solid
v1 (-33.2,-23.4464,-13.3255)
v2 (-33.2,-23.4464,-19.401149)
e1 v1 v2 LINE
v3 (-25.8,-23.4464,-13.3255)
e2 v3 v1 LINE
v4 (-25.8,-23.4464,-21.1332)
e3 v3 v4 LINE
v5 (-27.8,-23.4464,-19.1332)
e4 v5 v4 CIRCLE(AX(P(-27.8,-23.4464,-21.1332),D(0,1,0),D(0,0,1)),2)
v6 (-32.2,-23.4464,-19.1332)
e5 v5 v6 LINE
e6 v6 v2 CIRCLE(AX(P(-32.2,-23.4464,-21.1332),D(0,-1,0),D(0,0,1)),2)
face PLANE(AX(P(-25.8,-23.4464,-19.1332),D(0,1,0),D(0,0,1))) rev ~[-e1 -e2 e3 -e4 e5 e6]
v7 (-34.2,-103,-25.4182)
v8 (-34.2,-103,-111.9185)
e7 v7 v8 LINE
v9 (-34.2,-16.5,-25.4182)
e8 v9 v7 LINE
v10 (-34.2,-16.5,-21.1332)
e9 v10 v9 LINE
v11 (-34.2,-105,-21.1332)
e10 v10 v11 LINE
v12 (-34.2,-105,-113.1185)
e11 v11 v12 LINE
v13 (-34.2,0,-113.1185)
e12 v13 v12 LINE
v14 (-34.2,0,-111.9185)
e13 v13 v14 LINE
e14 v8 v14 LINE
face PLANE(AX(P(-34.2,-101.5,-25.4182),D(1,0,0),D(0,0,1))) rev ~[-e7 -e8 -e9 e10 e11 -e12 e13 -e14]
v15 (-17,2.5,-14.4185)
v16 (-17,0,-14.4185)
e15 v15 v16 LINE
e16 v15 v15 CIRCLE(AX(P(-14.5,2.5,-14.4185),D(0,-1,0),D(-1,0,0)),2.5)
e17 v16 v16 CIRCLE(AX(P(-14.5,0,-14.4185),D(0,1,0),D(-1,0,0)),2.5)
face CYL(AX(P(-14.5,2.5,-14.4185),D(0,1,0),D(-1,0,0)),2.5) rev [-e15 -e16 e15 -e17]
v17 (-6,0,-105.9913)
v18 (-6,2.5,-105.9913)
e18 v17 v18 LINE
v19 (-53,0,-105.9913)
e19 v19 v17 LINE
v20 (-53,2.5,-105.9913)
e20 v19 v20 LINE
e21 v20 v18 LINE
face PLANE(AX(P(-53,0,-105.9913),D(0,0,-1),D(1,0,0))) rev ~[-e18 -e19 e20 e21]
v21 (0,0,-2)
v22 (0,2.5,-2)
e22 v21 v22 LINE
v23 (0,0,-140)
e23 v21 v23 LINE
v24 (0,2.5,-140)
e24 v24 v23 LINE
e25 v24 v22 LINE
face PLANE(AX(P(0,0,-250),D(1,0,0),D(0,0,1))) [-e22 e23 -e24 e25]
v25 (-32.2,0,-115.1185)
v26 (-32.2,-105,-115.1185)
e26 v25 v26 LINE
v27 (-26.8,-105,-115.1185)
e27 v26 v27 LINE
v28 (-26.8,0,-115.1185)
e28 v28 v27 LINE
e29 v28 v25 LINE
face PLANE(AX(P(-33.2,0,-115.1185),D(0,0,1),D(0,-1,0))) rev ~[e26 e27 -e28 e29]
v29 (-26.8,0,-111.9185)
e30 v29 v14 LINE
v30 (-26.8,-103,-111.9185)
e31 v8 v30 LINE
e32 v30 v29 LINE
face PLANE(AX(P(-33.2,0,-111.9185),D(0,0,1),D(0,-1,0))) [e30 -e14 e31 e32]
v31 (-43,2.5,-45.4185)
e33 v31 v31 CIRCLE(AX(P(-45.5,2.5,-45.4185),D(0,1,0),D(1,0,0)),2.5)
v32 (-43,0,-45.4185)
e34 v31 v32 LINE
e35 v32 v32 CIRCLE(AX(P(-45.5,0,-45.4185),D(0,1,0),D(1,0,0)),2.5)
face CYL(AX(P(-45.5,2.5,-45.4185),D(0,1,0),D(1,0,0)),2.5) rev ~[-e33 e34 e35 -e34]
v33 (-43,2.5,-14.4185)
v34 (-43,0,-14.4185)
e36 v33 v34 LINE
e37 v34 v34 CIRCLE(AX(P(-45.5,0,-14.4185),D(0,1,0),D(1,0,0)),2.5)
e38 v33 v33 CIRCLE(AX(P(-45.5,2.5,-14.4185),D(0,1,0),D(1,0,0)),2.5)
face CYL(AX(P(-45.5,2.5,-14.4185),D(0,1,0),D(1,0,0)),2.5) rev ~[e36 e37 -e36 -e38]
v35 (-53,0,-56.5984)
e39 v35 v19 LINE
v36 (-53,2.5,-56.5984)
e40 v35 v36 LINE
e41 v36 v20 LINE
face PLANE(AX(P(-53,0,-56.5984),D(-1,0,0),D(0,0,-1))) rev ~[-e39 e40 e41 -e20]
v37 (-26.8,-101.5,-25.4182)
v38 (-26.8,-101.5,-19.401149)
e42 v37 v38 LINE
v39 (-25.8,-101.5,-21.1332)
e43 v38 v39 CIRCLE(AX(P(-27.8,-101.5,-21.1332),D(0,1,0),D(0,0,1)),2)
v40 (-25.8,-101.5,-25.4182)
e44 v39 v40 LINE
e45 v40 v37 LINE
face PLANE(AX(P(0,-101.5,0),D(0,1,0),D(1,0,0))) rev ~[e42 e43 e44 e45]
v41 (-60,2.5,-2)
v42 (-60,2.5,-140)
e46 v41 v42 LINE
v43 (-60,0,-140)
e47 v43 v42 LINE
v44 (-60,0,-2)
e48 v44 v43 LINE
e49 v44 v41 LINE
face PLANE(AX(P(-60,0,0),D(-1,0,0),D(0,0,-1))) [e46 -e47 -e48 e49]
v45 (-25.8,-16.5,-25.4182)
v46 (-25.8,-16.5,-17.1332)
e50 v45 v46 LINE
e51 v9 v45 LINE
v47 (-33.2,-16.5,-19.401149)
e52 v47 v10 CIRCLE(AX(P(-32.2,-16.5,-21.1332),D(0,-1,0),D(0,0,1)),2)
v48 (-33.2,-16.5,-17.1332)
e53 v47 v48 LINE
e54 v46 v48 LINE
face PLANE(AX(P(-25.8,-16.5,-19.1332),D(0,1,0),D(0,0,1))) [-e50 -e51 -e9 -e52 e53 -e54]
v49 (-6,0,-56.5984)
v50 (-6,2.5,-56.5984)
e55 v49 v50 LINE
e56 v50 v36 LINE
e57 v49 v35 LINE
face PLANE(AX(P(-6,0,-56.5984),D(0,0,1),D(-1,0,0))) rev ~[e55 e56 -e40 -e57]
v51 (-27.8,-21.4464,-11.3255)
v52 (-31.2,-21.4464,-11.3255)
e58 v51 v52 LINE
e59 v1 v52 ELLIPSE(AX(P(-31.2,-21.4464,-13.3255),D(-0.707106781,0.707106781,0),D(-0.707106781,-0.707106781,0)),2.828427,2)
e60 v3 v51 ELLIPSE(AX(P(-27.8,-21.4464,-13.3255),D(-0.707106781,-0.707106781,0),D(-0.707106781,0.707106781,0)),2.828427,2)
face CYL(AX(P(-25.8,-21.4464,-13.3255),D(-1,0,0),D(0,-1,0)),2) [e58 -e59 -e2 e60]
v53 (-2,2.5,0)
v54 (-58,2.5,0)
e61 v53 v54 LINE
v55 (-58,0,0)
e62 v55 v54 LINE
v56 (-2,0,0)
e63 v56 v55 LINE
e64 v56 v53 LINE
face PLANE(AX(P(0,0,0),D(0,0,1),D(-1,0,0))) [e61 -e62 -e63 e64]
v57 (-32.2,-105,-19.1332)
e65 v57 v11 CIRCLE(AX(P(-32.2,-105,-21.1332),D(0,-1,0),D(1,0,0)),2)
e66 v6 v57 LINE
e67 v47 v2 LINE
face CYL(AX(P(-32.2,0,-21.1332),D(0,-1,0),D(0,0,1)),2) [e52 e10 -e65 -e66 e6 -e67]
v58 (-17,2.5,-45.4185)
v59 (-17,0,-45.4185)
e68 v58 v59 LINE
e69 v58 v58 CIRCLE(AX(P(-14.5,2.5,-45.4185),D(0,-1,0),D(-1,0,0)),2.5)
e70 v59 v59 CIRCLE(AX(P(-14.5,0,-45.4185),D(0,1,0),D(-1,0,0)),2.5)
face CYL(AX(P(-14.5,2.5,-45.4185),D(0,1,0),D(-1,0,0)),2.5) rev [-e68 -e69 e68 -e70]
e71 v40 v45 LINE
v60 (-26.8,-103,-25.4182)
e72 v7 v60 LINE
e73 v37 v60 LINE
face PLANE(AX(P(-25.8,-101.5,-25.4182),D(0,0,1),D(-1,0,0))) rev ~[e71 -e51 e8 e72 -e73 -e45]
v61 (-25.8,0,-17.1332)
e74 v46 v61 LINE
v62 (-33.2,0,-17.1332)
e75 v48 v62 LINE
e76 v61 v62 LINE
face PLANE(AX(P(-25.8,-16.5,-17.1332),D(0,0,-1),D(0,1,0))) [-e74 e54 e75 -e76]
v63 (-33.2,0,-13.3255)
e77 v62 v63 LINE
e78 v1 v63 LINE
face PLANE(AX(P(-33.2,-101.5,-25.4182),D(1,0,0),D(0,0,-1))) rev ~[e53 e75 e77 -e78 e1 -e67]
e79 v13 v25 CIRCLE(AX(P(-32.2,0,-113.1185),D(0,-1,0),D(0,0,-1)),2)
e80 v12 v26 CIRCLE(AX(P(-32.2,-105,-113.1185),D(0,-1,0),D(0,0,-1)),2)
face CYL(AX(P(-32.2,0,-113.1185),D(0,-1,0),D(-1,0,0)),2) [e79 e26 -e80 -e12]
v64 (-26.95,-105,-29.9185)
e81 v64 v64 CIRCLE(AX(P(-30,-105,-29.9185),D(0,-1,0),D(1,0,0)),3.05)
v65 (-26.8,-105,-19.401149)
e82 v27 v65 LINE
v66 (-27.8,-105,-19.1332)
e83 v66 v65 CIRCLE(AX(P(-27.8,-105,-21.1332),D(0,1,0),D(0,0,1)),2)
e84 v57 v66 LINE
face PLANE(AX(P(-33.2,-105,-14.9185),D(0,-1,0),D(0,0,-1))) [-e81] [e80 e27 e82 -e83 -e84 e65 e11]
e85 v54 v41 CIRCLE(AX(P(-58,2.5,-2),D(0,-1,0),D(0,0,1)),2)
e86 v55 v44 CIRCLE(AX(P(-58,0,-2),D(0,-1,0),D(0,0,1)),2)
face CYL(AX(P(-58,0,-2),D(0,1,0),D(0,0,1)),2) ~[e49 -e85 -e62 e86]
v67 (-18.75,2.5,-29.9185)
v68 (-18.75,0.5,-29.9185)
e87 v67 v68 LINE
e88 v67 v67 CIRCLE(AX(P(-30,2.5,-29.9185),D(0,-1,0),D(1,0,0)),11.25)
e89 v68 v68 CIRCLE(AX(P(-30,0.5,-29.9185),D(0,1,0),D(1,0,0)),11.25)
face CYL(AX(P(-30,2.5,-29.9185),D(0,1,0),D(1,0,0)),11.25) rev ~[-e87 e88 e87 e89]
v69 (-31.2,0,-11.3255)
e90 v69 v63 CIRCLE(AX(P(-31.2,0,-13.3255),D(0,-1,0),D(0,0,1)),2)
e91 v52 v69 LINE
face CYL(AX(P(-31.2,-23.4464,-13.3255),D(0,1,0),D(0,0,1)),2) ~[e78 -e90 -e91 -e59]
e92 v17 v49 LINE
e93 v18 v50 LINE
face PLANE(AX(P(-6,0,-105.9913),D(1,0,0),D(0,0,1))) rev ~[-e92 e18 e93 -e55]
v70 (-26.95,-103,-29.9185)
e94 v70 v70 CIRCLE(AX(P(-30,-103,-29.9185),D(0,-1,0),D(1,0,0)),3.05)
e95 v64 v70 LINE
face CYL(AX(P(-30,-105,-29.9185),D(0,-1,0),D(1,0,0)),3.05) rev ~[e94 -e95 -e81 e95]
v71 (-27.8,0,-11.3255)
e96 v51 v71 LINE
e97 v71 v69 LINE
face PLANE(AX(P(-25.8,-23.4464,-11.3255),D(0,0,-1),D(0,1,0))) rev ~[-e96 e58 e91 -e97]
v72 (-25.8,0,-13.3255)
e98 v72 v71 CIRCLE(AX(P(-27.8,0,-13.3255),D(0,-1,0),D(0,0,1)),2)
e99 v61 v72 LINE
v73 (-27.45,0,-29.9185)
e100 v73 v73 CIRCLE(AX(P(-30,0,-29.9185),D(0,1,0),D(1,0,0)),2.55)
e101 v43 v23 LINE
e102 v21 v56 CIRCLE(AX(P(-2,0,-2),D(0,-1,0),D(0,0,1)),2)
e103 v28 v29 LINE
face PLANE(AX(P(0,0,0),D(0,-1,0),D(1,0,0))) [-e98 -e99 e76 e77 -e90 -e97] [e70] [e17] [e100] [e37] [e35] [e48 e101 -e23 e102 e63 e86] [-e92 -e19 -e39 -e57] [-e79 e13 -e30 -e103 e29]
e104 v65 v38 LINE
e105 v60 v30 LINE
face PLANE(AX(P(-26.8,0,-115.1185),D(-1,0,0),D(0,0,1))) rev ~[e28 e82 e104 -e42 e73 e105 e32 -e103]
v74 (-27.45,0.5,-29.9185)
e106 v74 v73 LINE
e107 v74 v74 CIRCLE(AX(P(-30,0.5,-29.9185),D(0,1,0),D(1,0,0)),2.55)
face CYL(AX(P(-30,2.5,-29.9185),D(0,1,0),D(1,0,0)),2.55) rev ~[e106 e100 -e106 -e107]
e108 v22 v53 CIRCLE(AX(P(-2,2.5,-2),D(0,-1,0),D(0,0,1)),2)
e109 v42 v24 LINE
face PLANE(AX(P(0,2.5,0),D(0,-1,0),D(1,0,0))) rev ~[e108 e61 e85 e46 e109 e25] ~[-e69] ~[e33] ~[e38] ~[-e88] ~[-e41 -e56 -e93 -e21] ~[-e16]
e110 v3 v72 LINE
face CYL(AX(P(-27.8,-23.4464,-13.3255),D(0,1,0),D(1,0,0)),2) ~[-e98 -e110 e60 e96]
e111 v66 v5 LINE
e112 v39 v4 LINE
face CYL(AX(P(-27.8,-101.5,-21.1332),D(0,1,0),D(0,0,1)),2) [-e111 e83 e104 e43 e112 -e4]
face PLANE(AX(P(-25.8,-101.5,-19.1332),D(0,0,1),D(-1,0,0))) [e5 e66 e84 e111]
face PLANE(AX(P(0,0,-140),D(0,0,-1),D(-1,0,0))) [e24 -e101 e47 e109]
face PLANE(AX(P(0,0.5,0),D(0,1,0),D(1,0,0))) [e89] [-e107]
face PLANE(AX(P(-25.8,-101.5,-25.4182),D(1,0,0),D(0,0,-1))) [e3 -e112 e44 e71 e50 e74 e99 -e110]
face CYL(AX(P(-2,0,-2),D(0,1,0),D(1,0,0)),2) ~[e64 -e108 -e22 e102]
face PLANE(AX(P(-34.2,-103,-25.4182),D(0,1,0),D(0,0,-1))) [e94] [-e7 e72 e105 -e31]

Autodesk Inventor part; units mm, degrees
ref_plane "YZ Plane" through (0, 0, 0) normal (1, 0, 0) x (0, 1, 0)
ref_plane "XZ Plane" through (0, 0, 0) normal (0, 1, 0) x (-1, 0, 0)
ref_plane "XY Plane" through (0, 0, 0) normal (0, 0, 1) x (1, 0, 0)
sketch "草图1" plane through (0, 0, 0) normal (0, 1, 0) x (-1, 0, 0)
  line L0 (0, 0) -> (60, 0)
  line L1 (60, 0) -> (60, -140)
  line L2 (60, -140) -> (0, -140)
  line L3 (0, -140) -> (0, 0)
  dimension "d0" = 60
  dimension "d1" = 140
extrude "拉伸1" add sketch "草图1" along normal blind 2.5
sketch "草图2" plane through (0, 2.5, 0) normal (0, 1, 0) x (1, 0, 0)
  line L0 (0, 140) -> (-60, 140) projected
  line L1 (-60, 140) -> (-60, 0) projected
  line L2 (-60, 0) -> (0, 0) projected
  line L3 (0, 0) -> (0, 140) projected
  line L4 (-60, 0) -> (0, 0) projected
  line L5 (-30, 0) -> (-30, 146.6003)
  line L6 (-30, 8.9185) -> (-51, 8.9185)
  line L7 (-51, 8.9185) -> (-51, 50.9185)
  line L8 (-51, 50.9185) -> (-30, 50.9185)
  line L9 (-30, 50.9185) -> (-30, 8.9185)
  line L10 (-30, 8.9185) -> (-9, 8.9185)
  line L11 (-9, 8.9185) -> (-9, 50.9185)
  line L12 (-9, 50.9185) -> (-30, 50.9185)
  circle A0 centre (-45.5, 14.4185) radius 2.9433
  line L13 (-51, 29.9185) -> (-35.5931, 29.9185)
  circle A1 centre (-45.5, 45.4185) radius 2.9433
  circle A2 centre (-14.5, 14.4185) radius 2.9433
  circle A3 centre (-14.5, 45.4185) radius 2.9433
  circle A4 centre (-30, 29.9185) radius 2.55
  circle A5 centre (-30, 29.9185) radius 11.25
  dimension "d4" = 21
  dimension "d5" = 42
  dimension "d6" = 31
  dimension "d7" = 31
  dimension "d12" = 5.1
  dimension "d15" = 22.5
extrude "拉伸4" cut sketch "草图2" along normal mid plane 10 contours A4 L5 | L5 A4
extrude "拉伸5" cut sketch "草图2" against normal blind 10 contours A5 L5 A4 | L5 A4 A5 | A4 L5 | L5 A4
extrude "拉伸6" cut sketch "草图2" against normal blind 10 contours A5 L5 A4 | L5 A4 A5 | A4 L5 | L5 A4
sketch "草图6" plane through (0, 0, 0) normal (0, -1, 0) x (1, 0, 0)
  line L0 (-9, -8.9185) -> (-51, -8.9185) projected
  circle A0 centre (-30, -29.9185) radius 2.55 projected
  line L1 (-30, -29.9185) -> (-26.8, -29.9185)
  line L2 (-26.8, -29.9185) -> (-26.8, -111.9185)
  line L3 (-30, -29.9185) -> (-30, -39.9264)
  line L4 (-30, -29.9185) -> (-33.2, -29.9185)
  line L5 (-33.2, -29.9185) -> (-33.2, -111.9185)
  line L6 (-26.8, -111.9185) -> (-31.6, -111.9185)
  line L7 (-31.6, -111.9185) -> (-33.2, -111.9185)
  line L8 (-26.8, -111.9185) -> (-33.2, -111.9185)
  line L9 (-33.2, -111.9185) -> (-33.2, -115.1185)
  line L10 (-33.2, -115.1185) -> (-26.8, -115.1185)
  line L11 (-26.8, -115.1185) -> (-26.8, -111.9185)
  point P0 (0, 0)
  dimension "d20" = 3.2
  dimension "d21" = 82
  dimension "d22" = 3.2
extrude "拉伸7" add sketch "草图6" along normal blind 105 contours L11 L10 L9 L7 L6
sketch "草图7" plane through (-33.2, 0, -111.9185) normal (0, 0, 1) x (1, 0, 0)
  line L0 (0, 0) -> (6.4, 0) projected
  line L1 (0, 0) -> (0, -105) projected
  line L2 (6.4, -105) -> (0, -105) projected
  line L3 (6.4, 0) -> (6.4, -105) projected
  line L4 (6.4, 0) -> (6.4, -105) projected
  line L5 (0, 0) -> (0, -105) projected
  line L6 (6.4, -105) -> (0, -105)
  line L7 (0, -105) -> (0, -101.5)
  line L8 (0, -101.5) -> (6.4, -101.5)
  line L9 (6.4, -101.5) -> (6.4, -105)
  point P0 (33.2, 0)
  dimension "d25" = 3.5
sketch "草图8" plane through (0, -105, 0) normal (0, -1, 0) x (1, 0, 0)
  line L0 (-26.8, -111.9185) -> (-26.8, -115.1185) projected
  line L1 (-26.8, -115.1185) -> (-33.2, -115.1185) projected
  line L2 (-33.2, -115.1185) -> (-33.2, -111.9185) projected
  line L3 (-33.2, -111.9185) -> (-26.8, -111.9185) projected
  circle A0 centre (-30, -29.9185) radius 11.25 projected
  line L4 (0, -140) -> (-60, -140) projected
  line L5 (0, 0) -> (0, -140) projected
  line L6 (-60, 0) -> (0, 0) projected
  line L7 (-60, -140) -> (-60, 0) projected
  line L8 (-26.8, -111.9185) -> (-26.8, -29.9185)
  line L9 (-26.8, -29.9185) -> (-33.2, -29.9185)
  line L10 (-33.2, -29.9185) -> (-33.2, -111.9185)
  line L11 (-33.2, -111.9185) -> (-26.8, -111.9185)
  line L12 (-26.8, -111.9185) -> (-26.8, -29.9185)
  circle A1 centre (-30, -29.9185) radius 3.2
  line L13 (-26.8, -29.9185) -> (-26.8, -14.9185)
  line L14 (-26.8, -14.9185) -> (-33.2, -14.9185)
  line L15 (-33.2, -14.9185) -> (-33.2, -29.9185)
  circle A2 centre (-30, -29.9185) radius 2.55 projected
  line L16 (-26.8, -14.9185) -> (-26.8, -25.4185)
  line L17 (-26.8, -25.4185) -> (-33.2, -25.4185)
  dimension "d26" = 15
  dimension "d40" = 10.5
extrude "拉伸8" add sketch "草图8" against normal blind 3.5 contours L3 L10 A0 L8 | A0 L10 A1 L8 | A1 L9 A2 | L9 A2 A1 | A1 L15 L17 L13 | L15 L14 L13 A0 | A0 L13 L17 L15
sketch "草图10" plane through (0, -105, 0) normal (0, -1, 0) x (1, 0, 0)
  line L0 (-26.8, -111.9185) -> (-26.8, -115.1185) projected
  line L1 (-26.8, -115.1185) -> (-33.2, -115.1185) projected
  line L2 (-33.2, -115.1185) -> (-33.2, -111.9185) projected
  line L3 (-33.2, -111.9185) -> (-26.8, -111.9185) projected
  circle A0 centre (-30, -29.9185) radius 11.25 projected
  line L4 (0, -140) -> (-60, -140) projected
  line L5 (0, 0) -> (0, -140) projected
  line L6 (-60, 0) -> (0, 0) projected
  line L7 (-60, -140) -> (-60, 0) projected
  circle A1 centre (-30, -29.9185) radius 2.55 projected
  line L8 (-33.2, -14.9185) -> (-33.2, -115.1185) projected
  line L9 (-33.2, -115.1185) -> (-26.8, -115.1185) projected
  line L10 (-26.8, -115.1185) -> (-26.8, -14.9185) projected
  line L11 (-26.8, -14.9185) -> (-33.2, -14.9185) projected
  circle A2 centre (-30, -29.9185) radius 3.05
  point P0 (-33.2, -19.1332)
  point P1 (-26.8, -19.1332)
  dimension "d31" = 6.1
extrude "拉伸9" add sketch "草图10" against normal up to surface (105 mm away) contours A0 L8 L11 L10
extrude "拉伸10" cut sketch "草图10" against normal up to surface (3.5 mm away) contours A2
sketch "草图11" plane through (-33.2, -105, -115.1185) normal (-1, 0, 0) x (0, 0, 1)
  line L0 (3.2, 3.5) -> (95.9853, 3.5) projected
  line L1 (3.2, 105) -> (3.2, 3.5) projected
  line L2 (0, 105) -> (3.2, 105) projected
  line L3 (0, 105) -> (0, 0) projected
  line L4 (100.2, 0) -> (0, 0) projected
  line L5 (100.2, 0) -> (100.2, 105) projected
  line L6 (95.9853, 105) -> (100.2, 105) projected
  line L7 (95.9853, 3.5) -> (95.9853, 105) projected
  point P0 (115.1185, 105)
extrude "拉伸11" add sketch "草图11" along normal blind 1
sketch "草图12" plane through (0, 0, 0) normal (0, -1, 0) x (1, 0, 0)
  point P0 (0, 0)
extrude "拉伸12" add sketch "草图2" against normal up to surface (2.5 mm away) contours A5 L5 A4 | L5 A4 A5
sketch "草图13" plane through (-30, 2.5, -29.9185) normal (0, 1, 0) x (1, 0, 0)
  point P0 (30, -29.9185)
extrude "拉伸13" cut sketch "草图2" against normal blind 2 contours A5 L5 A4 | L5 A4 A5
sketch "草图14" plane through (0, -105, 0) normal (0, -1, 0) x (1, 0, 0)
  circle A0 centre (-30, -29.9185) radius 3.05 projected
  line L0 (-26.8, -115.1185) -> (-34.2, -115.1185) projected
  line L1 (-26.8, -14.9185) -> (-34.2, -14.9185) projected
  line L2 (-34.2, -115.1185) -> (-34.2, -14.9185) projected
  line L3 (-34.2, -115.1185) -> (-34.2, -14.9185) projected
  line L4 (-34.2, -19.1332) -> (-34.2, -14.9185) projected
  line L5 (-34.2, -19.1332) -> (-34.2, -111.9185) projected
  line L6 (-34.2, -115.1185) -> (-34.2, -111.9185) projected
  line L7 (-33.2, -19.1332) -> (-34.2, -19.1332) projected
  line L8 (-34.2, -19.1332) -> (-25.8, -19.1332)
  line L9 (-25.8, -115.1185) -> (-25.8, -14.9185) projected
  line L10 (-26.8, -115.1185) -> (-26.8, -14.9185) projected
  point P0 (0, 0)
  point P1 (-26.8, -19.1332)
extrude "拉伸14" cut sketch "草图14" against normal up to surface (105 mm away) contours L8 L7 L2 L1 L10
sketch "草图15" plane through (0, -101.5, 0) normal (0, 1, 0) x (1, 0, 0)
  line L0 (-34.2, 111.9185) -> (-26.8, 111.9185) projected
  line L1 (-34.2, 19.1332) -> (-34.2, 111.9185) projected
  circle A0 centre (-30, 29.9185) radius 3.05 projected
  line L2 (-26.8, 25.4185) -> (-33.2, 25.4185) projected
  line L3 (-26.8, 14.9185) -> (-26.8, 25.4185) projected
  line L4 (-34.2, 19.1332) -> (-26.8, 19.1332) projected
  line L5 (-26.8, 19.1332) -> (-26.8, 111.9185) projected
  point P0 (0, 0)
sketch "草图16" plane through (0, -105, 0) normal (0, -1, 0) x (1, 0, 0)
  line L0 (-26.8, -25.4185) -> (-33.2, -25.4185) projected
  line L1 (-34.2, -115.1185) -> (-34.2, -19.1332) projected
  line L2 (-26.8, -115.1185) -> (-34.2, -115.1185) projected
  circle A0 centre (-30, -29.9185) radius 3.05 projected
  line L3 (-26.8, -19.1332) -> (-34.2, -19.1332) projected
  line L4 (-26.8, -115.1185) -> (-26.8, -19.1332) projected
  point P0 (0, 0)
sketch "草图17" plane through (0, -101.5, 0) normal (0, 1, 0) x (1, 0, 0)
  line L0 (-25.8, 19.1332) -> (-34.2, 19.1332) projected
  line L1 (-25.8, 19.1332) -> (-25.8, 111.9185) projected
  line L2 (-34.2, 19.1332) -> (-25.8, 19.1332)
  line L3 (-25.8, 19.1332) -> (-25.8, 25.4182)
  line L4 (-25.8, 25.4182) -> (-34.2, 25.4182)
  line L5 (-34.2, 25.4182) -> (-34.2, 19.1332)
  point P0 (0, 0)
  dimension "d43" = 6.285
extrude "拉伸15" add sketch "草图17" along normal up to surface (101.5 mm away)
fillet "圆角1" radius 2 3 edges at (-34.2, -52.5, -19.1332) (-25.8, -50.75, -19.1332) (-34.2, -52.5, -115.1185)
sketch "草图18" plane through (0, 2.5, 0) normal (0, 1, 0) x (1, 0, 0)
  circle A0 centre (-30, 29.9185) radius 11.25 projected
  line L0 (0, 140) -> (-60, 140) projected
  line L1 (-60, 140) -> (-60, 0) projected
  line L2 (-60, 0) -> (0, 0) projected
  line L3 (0, 0) -> (0, 140) projected
  circle A1 centre (-45.5, 14.4185) radius 2.5
  line L4 (-30, 29.9185) -> (-30, 12.6275)
  circle A2 centre (-45.5, 45.4185) radius 2.5
  point P0 (-14.5, 14.4185)
  dimension "d47" = 5
  dimension "d48" = 5
extrude "拉伸16" cut sketch "草图18" against normal blind 10 contours A1 | A2
ref_plane "工作平面2" through (-30, 0, -140) normal (-1, 0, 0) x (0, 0, 1)
mirror "镜像2" about plane through (-30, 0, -140) normal (-1, 0, 0) of "拉伸16"
sketch "草图19" plane through (0, 0, 0) normal (0, -1, 0) x (1, 0, 0)
  line L0 (0, -140) -> (-60, -140) projected
  line L1 (0, -140) -> (-110, -140)
  line L2 (-110, -140) -> (-110, -250)
  line L3 (-110, -250) -> (0, -250)
  line L4 (0, -250) -> (0, -140)
  circle A0 centre (-8, -146.46) radius 1.6
  circle A1 centre (-8, -242) radius 1.6
  circle A2 centre (-103.1, -146.46) radius 1.6
  circle A3 centre (-103.1, -242) radius 1.6
  point P0 (0, 0)
  dimension "d51" = 110
  dimension "d52" = 110
  dimension "d53" = 3.2
  dimension "d54" = 3.2
  dimension "d55" = 95.54
  dimension "d56" = 8
  dimension "d57" = 3.2
  dimension "d58" = 95.1
  dimension "d59" = 3.2
  dimension "d74" = 8
  dimension "d75" = 8
  dimension "d76" = 95.1
extrude "拉伸17" add sketch "草图19" against normal up to surface (2.5 mm away)
sketch "草图20" plane through (-25.8, -101.5, -25.4182) normal (1, 0, 0) x (0, 0, -1)
  line L0 (-4.285, 0) -> (-4.285, 101.5) projected
  line L1 (-4.285, 0) -> (0, 0) projected
  line L2 (0, 0) -> (0, 101.5) projected
  line L3 (-4.285, 101.5) -> (0, 101.5) projected
  line L4 (-4.285, 0) -> (-4.285, 101.5) projected
  line L5 (-4.285, 101.5) -> (-4.285, 85)
  line L6 (-4.285, 85) -> (0, 85)
  line L7 (0, 0) -> (0, 101.5) projected
  line L8 (-4.285, 85) -> (-8.285, 85)
  line L9 (-8.285, 85) -> (-8.285, 101.5)
  line L10 (114.5818, 101.5) -> (-25.4182, 101.5) projected
  line L11 (-6.285, 78.0536) -> (-14.0927, 78.0536)
  line L12 (-14.0927, 78.0536) -> (-14.0927, 101.5)
  line L13 (-6.285, 101.5) -> (-6.285, -3.5) projected
  point P0 (-6.285, 85)
  dimension "d62" = 16.5
  dimension "d63" = 4
extrude "拉伸18" cut sketch "草图20" along normal mid plane 20.75 contours L8 L13 L10 L0 | L0 L3 L2 L6 | L8 L9 L10 L13
extrude "拉伸19" add sketch "草图20" against normal blind 7.4 contours L13 L11 L12 L10 L9 L8
sketch "草图21" plane through (-25.8, -23.4464, -19.1332) normal (0, 0, -1) x (-1, 0, 0)
  line L0 (2, 6.9464) -> (2, 0) projected
  line L1 (0, 6.9464) -> (2, 6.9464) projected
  line L2 (0, 0) -> (0, 6.9464) projected
  line L3 (0, 0) -> (2, 0) projected
  line L4 (6.4, 0) -> (6.4, 6.9464) projected
  line L5 (6.4, 0) -> (7.4, 0) projected
  line L6 (7.4, 6.9464) -> (7.4, 0) projected
  line L7 (6.4, 6.9464) -> (7.4, 6.9464) projected
  point P0 (-25.8, 23.4464)
extrude "拉伸20" add sketch "草图21" along normal blind 2.5
fillet "圆角2" radius 2 3 edges at (-29.5, -23.4464, -11.3254) (-25.8, -11.7232, -11.3254) (-33.2, -11.7232, -11.3254)
sketch "草图22" plane through (0, -105, 0) normal (0, -1, 0) x (1, 0, 0)
  circle A0 centre (-30, -29.9185) radius 3.05 projected
  circle A1 centre (-30, -29.9185) radius 3.2 projected
  point P0 (0, 0)
sketch "草图23" plane through (0, -105, 0) normal (0, -1, 0) x (1, 0, 0)
  circle A0 centre (-30, -29.9185) radius 2.55 projected
  point P0 (0, 0)
sketch "草图24" plane through (0, -105, 0) normal (0, -1, 0) x (1, 0, 0)
  point P0 (0, 0)
sketch "草图25" plane through (0, -105, 0) normal (0, -1, 0) x (1, 0, 0)
  circle A0 centre (-30, -29.9185) radius 2.75
  point P0 (0, 0)
  dimension "d71" = 5.5
extrude "拉伸21" cut sketch "草图25" against normal blind 2.5
sketch "草图26" plane through (0, 0, 0) normal (1, 0, 0) x (0, 0, -1)
  point P0 (0, 0)
sketch "草图27" plane through (0, 2.5, 0) normal (0, 1, 0) x (1, 0, 0)
  circle A0 centre (-8, 146.46) radius 1.6 projected
  circle A1 centre (-8, 242) radius 1.6 projected
  circle A2 centre (-103.1, 146.46) radius 1.6 projected
  circle A3 centre (-103.1, 242) radius 1.6 projected
  circle A4 centre (-14.5, 14.4185) radius 2.5 projected
  circle A5 centre (-14.5, 45.4185) radius 2.5 projected
  circle A6 centre (-45.5, 14.4185) radius 2.5 projected
  circle A7 centre (-45.5, 45.4185) radius 2.5 projected
  circle A8 centre (-30, 29.9185) radius 11.25 projected
  line L0 (-60, 140) -> (-60, 0) projected
  line L1 (-60, 0) -> (0, 0) projected
  line L2 (0, 0) -> (0, 250) projected
  line L3 (-110, 250) -> (0, 250) projected
  line L4 (-110, 140) -> (-110, 250) projected
  line L5 (-60, 140) -> (-110, 140) projected
  circle A9 centre (-8, 154.4212) radius 1.6
  circle A10 centre (-8, 234.4212) radius 1.6
  dimension "d77" = 3.2
  dimension "d78" = 3.2
  dimension "d79" = 80
extrude "拉伸22" cut sketch "草图27" against normal up to surface (2.5 mm away) contours A9 | A10
sketch "草图28" plane through (0, 0, 0) normal (0, -1, 0) x (1, 0, 0)
  line L0 (-12.63, -150.06) -> (-99.8327, -150.06)
  line L1 (-99.8327, -150.06) -> (-99.8327, -239)
  line L2 (-99.8327, -239) -> (-12.63, -239)
  line L3 (-12.63, -239) -> (-12.63, -150.06)
  circle A0 centre (-8, -146.46) radius 1.6 projected
  circle A1 centre (-8, -242) radius 1.6 projected
  point P0 (0, 0)
  dimension "d82" = 3.6
  dimension "d83" = 3
extrude "拉伸23" cut sketch "草图28" against normal blind 10 contours L3 L2 L1 L0
fillet "圆角3" radius 2 5 edges at (-110, 1.25, -250) (0, 1.25, -250) (-110, 1.25, -140) (-60, 1.25, 0) (0, 1.25, 0)
sketch "草图29" plane through (0, 0, 0) normal (0, -1, 0) x (1, 0, 0)
  line L0 (-6, -56.5984) -> (-53, -56.5984)
  line L1 (-53, -56.5984) -> (-53, -105.9913)
  line L2 (-53, -105.9913) -> (-6, -105.9913)
  line L3 (-6, -105.9913) -> (-6, -56.5984)
  line L4 (-60, -140) -> (-60, -2) projected
  line L5 (0, -2) -> (0, -248) projected
  point P0 (0, 0)
  dimension "d87" = 7
  dimension "d88" = 6
extrude "拉伸24" cut sketch "草图29" against normal blind 10
sketch "草图30" plane through (-30, 0, -140) normal (-1, 0, 0) x (0, 0, 1)
  point P0 (140, 0)
sketch "草图31" plane through (0, 0, 0) normal (0, -1, 0) x (1, 0, 0)
  line L0 (-6, -105.9913) -> (-53, -105.9913) projected
  line L1 (-53, -105.9913) -> (-53, -56.5984) projected
  line L2 (-53, -56.5984) -> (-6, -56.5984) projected
  line L3 (-6, -56.5984) -> (-6, -105.9913) projected
  circle A0 centre (-8, -146.46) radius 1.6 projected
  circle A1 centre (-8, -242) radius 1.6 projected
  circle A2 centre (-103.1, -146.46) radius 1.6 projected
  circle A3 centre (-103.1, -242) radius 1.6 projected
  circle A4 centre (-14.5, -14.4185) radius 2.5 projected
  circle A5 centre (-14.5, -45.4185) radius 2.5 projected
  circle A6 centre (-45.5, -14.4185) radius 2.5 projected
  circle A7 centre (-45.5, -45.4185) radius 2.5 projected
  circle A8 centre (-30, -29.9185) radius 2.55 projected
  arc A9 (0, -2) -> (-2, 0) centre (-2, -2) ccw projected
  line L4 (-58, 0) -> (-2, 0) projected
  arc A10 (-58, 0) -> (-60, -2) centre (-58, -2) ccw projected
  line L5 (-60, -140) -> (-60, -2) projected
  line L6 (-60, -140) -> (-108, -140) projected
  arc A11 (-108, -140) -> (-110, -142) centre (-108, -142) ccw projected
  line L7 (-110, -142) -> (-110, -248) projected
  arc A12 (-110, -248) -> (-108, -250) centre (-108, -248) ccw projected
  line L8 (-108, -250) -> (-2, -250) projected
  arc A13 (-2, -250) -> (0, -248) centre (-2, -248) ccw projected
  line L9 (0, -2) -> (0, -248) projected
  line L10 (-34.2, -111.9185) -> (-26.8, -111.9185) projected
  line L11 (-26.8, -111.9185) -> (-26.8, -115.1185) projected
  line L12 (-26.8, -115.1185) -> (-32.2, -115.1185) projected
  arc A14 (-34.2, -113.1185) -> (-32.2, -115.1185) centre (-32.2, -113.1185) ccw projected
  line L13 (-34.2, -113.1185) -> (-34.2, -111.9185) projected
  line L14 (-31.2, -11.3254) -> (-27.8, -11.3254) projected
  arc A15 (-25.8, -13.3254) -> (-27.8, -11.3254) centre (-27.8, -13.3254) ccw projected
  line L15 (-25.8, -13.3254) -> (-25.8, -17.1332) projected
  line L16 (-25.8, -17.1332) -> (-33.2, -17.1332) projected
  line L17 (-33.2, -17.1332) -> (-33.2, -13.3254) projected
  arc A16 (-31.2, -11.3254) -> (-33.2, -13.3254) centre (-31.2, -13.3254) ccw projected
  circle A17 centre (-8, -234.4212) radius 1.6 projected
  circle A18 centre (-8, -154.4212) radius 1.6 projected
  line L18 (-12.63, -239) -> (-99.8327, -239) projected
  line L19 (-99.8327, -239) -> (-99.8327, -150.06) projected
  line L20 (-99.8327, -150.06) -> (-12.63, -150.06) projected
  line L21 (-12.63, -150.06) -> (-12.63, -239) projected
  line L22 (0, -2) -> (0, -248) projected
  line L23 (-60, -140) -> (-60, -2) projected
  line L24 (0, -140) -> (-60, -140)
  point P0 (0, 0)
extrude "拉伸25" cut sketch "草图31" along normal blind 10 and the other way blind 5 contours L9 A13 L8 A12 L7 A11 L6 L24
sketch "草图32" plane through (-34.2, -105, -115.1185) normal (-1, 0, 0) x (0, 0, 1)
  line L0 (89.7003, 3.5) -> (3.2, 3.5) projected
  line L1 (89.7003, 3.5) -> (89.7003, 2)
  line L2 (89.7003, 2) -> (3.2, 2)
  line L3 (2, 0) -> (2, 105) projected
  line L4 (3.2, 105) -> (3.2, 3.5) projected
  line L5 (3.2, 2) -> (3.2, 3.5)
  point P0 (115.1185, 105)
  dimension "d95" = 1.5
extrude "拉伸26" cut sketch "草图32" against normal blind 10
properties part number "42底座2"
